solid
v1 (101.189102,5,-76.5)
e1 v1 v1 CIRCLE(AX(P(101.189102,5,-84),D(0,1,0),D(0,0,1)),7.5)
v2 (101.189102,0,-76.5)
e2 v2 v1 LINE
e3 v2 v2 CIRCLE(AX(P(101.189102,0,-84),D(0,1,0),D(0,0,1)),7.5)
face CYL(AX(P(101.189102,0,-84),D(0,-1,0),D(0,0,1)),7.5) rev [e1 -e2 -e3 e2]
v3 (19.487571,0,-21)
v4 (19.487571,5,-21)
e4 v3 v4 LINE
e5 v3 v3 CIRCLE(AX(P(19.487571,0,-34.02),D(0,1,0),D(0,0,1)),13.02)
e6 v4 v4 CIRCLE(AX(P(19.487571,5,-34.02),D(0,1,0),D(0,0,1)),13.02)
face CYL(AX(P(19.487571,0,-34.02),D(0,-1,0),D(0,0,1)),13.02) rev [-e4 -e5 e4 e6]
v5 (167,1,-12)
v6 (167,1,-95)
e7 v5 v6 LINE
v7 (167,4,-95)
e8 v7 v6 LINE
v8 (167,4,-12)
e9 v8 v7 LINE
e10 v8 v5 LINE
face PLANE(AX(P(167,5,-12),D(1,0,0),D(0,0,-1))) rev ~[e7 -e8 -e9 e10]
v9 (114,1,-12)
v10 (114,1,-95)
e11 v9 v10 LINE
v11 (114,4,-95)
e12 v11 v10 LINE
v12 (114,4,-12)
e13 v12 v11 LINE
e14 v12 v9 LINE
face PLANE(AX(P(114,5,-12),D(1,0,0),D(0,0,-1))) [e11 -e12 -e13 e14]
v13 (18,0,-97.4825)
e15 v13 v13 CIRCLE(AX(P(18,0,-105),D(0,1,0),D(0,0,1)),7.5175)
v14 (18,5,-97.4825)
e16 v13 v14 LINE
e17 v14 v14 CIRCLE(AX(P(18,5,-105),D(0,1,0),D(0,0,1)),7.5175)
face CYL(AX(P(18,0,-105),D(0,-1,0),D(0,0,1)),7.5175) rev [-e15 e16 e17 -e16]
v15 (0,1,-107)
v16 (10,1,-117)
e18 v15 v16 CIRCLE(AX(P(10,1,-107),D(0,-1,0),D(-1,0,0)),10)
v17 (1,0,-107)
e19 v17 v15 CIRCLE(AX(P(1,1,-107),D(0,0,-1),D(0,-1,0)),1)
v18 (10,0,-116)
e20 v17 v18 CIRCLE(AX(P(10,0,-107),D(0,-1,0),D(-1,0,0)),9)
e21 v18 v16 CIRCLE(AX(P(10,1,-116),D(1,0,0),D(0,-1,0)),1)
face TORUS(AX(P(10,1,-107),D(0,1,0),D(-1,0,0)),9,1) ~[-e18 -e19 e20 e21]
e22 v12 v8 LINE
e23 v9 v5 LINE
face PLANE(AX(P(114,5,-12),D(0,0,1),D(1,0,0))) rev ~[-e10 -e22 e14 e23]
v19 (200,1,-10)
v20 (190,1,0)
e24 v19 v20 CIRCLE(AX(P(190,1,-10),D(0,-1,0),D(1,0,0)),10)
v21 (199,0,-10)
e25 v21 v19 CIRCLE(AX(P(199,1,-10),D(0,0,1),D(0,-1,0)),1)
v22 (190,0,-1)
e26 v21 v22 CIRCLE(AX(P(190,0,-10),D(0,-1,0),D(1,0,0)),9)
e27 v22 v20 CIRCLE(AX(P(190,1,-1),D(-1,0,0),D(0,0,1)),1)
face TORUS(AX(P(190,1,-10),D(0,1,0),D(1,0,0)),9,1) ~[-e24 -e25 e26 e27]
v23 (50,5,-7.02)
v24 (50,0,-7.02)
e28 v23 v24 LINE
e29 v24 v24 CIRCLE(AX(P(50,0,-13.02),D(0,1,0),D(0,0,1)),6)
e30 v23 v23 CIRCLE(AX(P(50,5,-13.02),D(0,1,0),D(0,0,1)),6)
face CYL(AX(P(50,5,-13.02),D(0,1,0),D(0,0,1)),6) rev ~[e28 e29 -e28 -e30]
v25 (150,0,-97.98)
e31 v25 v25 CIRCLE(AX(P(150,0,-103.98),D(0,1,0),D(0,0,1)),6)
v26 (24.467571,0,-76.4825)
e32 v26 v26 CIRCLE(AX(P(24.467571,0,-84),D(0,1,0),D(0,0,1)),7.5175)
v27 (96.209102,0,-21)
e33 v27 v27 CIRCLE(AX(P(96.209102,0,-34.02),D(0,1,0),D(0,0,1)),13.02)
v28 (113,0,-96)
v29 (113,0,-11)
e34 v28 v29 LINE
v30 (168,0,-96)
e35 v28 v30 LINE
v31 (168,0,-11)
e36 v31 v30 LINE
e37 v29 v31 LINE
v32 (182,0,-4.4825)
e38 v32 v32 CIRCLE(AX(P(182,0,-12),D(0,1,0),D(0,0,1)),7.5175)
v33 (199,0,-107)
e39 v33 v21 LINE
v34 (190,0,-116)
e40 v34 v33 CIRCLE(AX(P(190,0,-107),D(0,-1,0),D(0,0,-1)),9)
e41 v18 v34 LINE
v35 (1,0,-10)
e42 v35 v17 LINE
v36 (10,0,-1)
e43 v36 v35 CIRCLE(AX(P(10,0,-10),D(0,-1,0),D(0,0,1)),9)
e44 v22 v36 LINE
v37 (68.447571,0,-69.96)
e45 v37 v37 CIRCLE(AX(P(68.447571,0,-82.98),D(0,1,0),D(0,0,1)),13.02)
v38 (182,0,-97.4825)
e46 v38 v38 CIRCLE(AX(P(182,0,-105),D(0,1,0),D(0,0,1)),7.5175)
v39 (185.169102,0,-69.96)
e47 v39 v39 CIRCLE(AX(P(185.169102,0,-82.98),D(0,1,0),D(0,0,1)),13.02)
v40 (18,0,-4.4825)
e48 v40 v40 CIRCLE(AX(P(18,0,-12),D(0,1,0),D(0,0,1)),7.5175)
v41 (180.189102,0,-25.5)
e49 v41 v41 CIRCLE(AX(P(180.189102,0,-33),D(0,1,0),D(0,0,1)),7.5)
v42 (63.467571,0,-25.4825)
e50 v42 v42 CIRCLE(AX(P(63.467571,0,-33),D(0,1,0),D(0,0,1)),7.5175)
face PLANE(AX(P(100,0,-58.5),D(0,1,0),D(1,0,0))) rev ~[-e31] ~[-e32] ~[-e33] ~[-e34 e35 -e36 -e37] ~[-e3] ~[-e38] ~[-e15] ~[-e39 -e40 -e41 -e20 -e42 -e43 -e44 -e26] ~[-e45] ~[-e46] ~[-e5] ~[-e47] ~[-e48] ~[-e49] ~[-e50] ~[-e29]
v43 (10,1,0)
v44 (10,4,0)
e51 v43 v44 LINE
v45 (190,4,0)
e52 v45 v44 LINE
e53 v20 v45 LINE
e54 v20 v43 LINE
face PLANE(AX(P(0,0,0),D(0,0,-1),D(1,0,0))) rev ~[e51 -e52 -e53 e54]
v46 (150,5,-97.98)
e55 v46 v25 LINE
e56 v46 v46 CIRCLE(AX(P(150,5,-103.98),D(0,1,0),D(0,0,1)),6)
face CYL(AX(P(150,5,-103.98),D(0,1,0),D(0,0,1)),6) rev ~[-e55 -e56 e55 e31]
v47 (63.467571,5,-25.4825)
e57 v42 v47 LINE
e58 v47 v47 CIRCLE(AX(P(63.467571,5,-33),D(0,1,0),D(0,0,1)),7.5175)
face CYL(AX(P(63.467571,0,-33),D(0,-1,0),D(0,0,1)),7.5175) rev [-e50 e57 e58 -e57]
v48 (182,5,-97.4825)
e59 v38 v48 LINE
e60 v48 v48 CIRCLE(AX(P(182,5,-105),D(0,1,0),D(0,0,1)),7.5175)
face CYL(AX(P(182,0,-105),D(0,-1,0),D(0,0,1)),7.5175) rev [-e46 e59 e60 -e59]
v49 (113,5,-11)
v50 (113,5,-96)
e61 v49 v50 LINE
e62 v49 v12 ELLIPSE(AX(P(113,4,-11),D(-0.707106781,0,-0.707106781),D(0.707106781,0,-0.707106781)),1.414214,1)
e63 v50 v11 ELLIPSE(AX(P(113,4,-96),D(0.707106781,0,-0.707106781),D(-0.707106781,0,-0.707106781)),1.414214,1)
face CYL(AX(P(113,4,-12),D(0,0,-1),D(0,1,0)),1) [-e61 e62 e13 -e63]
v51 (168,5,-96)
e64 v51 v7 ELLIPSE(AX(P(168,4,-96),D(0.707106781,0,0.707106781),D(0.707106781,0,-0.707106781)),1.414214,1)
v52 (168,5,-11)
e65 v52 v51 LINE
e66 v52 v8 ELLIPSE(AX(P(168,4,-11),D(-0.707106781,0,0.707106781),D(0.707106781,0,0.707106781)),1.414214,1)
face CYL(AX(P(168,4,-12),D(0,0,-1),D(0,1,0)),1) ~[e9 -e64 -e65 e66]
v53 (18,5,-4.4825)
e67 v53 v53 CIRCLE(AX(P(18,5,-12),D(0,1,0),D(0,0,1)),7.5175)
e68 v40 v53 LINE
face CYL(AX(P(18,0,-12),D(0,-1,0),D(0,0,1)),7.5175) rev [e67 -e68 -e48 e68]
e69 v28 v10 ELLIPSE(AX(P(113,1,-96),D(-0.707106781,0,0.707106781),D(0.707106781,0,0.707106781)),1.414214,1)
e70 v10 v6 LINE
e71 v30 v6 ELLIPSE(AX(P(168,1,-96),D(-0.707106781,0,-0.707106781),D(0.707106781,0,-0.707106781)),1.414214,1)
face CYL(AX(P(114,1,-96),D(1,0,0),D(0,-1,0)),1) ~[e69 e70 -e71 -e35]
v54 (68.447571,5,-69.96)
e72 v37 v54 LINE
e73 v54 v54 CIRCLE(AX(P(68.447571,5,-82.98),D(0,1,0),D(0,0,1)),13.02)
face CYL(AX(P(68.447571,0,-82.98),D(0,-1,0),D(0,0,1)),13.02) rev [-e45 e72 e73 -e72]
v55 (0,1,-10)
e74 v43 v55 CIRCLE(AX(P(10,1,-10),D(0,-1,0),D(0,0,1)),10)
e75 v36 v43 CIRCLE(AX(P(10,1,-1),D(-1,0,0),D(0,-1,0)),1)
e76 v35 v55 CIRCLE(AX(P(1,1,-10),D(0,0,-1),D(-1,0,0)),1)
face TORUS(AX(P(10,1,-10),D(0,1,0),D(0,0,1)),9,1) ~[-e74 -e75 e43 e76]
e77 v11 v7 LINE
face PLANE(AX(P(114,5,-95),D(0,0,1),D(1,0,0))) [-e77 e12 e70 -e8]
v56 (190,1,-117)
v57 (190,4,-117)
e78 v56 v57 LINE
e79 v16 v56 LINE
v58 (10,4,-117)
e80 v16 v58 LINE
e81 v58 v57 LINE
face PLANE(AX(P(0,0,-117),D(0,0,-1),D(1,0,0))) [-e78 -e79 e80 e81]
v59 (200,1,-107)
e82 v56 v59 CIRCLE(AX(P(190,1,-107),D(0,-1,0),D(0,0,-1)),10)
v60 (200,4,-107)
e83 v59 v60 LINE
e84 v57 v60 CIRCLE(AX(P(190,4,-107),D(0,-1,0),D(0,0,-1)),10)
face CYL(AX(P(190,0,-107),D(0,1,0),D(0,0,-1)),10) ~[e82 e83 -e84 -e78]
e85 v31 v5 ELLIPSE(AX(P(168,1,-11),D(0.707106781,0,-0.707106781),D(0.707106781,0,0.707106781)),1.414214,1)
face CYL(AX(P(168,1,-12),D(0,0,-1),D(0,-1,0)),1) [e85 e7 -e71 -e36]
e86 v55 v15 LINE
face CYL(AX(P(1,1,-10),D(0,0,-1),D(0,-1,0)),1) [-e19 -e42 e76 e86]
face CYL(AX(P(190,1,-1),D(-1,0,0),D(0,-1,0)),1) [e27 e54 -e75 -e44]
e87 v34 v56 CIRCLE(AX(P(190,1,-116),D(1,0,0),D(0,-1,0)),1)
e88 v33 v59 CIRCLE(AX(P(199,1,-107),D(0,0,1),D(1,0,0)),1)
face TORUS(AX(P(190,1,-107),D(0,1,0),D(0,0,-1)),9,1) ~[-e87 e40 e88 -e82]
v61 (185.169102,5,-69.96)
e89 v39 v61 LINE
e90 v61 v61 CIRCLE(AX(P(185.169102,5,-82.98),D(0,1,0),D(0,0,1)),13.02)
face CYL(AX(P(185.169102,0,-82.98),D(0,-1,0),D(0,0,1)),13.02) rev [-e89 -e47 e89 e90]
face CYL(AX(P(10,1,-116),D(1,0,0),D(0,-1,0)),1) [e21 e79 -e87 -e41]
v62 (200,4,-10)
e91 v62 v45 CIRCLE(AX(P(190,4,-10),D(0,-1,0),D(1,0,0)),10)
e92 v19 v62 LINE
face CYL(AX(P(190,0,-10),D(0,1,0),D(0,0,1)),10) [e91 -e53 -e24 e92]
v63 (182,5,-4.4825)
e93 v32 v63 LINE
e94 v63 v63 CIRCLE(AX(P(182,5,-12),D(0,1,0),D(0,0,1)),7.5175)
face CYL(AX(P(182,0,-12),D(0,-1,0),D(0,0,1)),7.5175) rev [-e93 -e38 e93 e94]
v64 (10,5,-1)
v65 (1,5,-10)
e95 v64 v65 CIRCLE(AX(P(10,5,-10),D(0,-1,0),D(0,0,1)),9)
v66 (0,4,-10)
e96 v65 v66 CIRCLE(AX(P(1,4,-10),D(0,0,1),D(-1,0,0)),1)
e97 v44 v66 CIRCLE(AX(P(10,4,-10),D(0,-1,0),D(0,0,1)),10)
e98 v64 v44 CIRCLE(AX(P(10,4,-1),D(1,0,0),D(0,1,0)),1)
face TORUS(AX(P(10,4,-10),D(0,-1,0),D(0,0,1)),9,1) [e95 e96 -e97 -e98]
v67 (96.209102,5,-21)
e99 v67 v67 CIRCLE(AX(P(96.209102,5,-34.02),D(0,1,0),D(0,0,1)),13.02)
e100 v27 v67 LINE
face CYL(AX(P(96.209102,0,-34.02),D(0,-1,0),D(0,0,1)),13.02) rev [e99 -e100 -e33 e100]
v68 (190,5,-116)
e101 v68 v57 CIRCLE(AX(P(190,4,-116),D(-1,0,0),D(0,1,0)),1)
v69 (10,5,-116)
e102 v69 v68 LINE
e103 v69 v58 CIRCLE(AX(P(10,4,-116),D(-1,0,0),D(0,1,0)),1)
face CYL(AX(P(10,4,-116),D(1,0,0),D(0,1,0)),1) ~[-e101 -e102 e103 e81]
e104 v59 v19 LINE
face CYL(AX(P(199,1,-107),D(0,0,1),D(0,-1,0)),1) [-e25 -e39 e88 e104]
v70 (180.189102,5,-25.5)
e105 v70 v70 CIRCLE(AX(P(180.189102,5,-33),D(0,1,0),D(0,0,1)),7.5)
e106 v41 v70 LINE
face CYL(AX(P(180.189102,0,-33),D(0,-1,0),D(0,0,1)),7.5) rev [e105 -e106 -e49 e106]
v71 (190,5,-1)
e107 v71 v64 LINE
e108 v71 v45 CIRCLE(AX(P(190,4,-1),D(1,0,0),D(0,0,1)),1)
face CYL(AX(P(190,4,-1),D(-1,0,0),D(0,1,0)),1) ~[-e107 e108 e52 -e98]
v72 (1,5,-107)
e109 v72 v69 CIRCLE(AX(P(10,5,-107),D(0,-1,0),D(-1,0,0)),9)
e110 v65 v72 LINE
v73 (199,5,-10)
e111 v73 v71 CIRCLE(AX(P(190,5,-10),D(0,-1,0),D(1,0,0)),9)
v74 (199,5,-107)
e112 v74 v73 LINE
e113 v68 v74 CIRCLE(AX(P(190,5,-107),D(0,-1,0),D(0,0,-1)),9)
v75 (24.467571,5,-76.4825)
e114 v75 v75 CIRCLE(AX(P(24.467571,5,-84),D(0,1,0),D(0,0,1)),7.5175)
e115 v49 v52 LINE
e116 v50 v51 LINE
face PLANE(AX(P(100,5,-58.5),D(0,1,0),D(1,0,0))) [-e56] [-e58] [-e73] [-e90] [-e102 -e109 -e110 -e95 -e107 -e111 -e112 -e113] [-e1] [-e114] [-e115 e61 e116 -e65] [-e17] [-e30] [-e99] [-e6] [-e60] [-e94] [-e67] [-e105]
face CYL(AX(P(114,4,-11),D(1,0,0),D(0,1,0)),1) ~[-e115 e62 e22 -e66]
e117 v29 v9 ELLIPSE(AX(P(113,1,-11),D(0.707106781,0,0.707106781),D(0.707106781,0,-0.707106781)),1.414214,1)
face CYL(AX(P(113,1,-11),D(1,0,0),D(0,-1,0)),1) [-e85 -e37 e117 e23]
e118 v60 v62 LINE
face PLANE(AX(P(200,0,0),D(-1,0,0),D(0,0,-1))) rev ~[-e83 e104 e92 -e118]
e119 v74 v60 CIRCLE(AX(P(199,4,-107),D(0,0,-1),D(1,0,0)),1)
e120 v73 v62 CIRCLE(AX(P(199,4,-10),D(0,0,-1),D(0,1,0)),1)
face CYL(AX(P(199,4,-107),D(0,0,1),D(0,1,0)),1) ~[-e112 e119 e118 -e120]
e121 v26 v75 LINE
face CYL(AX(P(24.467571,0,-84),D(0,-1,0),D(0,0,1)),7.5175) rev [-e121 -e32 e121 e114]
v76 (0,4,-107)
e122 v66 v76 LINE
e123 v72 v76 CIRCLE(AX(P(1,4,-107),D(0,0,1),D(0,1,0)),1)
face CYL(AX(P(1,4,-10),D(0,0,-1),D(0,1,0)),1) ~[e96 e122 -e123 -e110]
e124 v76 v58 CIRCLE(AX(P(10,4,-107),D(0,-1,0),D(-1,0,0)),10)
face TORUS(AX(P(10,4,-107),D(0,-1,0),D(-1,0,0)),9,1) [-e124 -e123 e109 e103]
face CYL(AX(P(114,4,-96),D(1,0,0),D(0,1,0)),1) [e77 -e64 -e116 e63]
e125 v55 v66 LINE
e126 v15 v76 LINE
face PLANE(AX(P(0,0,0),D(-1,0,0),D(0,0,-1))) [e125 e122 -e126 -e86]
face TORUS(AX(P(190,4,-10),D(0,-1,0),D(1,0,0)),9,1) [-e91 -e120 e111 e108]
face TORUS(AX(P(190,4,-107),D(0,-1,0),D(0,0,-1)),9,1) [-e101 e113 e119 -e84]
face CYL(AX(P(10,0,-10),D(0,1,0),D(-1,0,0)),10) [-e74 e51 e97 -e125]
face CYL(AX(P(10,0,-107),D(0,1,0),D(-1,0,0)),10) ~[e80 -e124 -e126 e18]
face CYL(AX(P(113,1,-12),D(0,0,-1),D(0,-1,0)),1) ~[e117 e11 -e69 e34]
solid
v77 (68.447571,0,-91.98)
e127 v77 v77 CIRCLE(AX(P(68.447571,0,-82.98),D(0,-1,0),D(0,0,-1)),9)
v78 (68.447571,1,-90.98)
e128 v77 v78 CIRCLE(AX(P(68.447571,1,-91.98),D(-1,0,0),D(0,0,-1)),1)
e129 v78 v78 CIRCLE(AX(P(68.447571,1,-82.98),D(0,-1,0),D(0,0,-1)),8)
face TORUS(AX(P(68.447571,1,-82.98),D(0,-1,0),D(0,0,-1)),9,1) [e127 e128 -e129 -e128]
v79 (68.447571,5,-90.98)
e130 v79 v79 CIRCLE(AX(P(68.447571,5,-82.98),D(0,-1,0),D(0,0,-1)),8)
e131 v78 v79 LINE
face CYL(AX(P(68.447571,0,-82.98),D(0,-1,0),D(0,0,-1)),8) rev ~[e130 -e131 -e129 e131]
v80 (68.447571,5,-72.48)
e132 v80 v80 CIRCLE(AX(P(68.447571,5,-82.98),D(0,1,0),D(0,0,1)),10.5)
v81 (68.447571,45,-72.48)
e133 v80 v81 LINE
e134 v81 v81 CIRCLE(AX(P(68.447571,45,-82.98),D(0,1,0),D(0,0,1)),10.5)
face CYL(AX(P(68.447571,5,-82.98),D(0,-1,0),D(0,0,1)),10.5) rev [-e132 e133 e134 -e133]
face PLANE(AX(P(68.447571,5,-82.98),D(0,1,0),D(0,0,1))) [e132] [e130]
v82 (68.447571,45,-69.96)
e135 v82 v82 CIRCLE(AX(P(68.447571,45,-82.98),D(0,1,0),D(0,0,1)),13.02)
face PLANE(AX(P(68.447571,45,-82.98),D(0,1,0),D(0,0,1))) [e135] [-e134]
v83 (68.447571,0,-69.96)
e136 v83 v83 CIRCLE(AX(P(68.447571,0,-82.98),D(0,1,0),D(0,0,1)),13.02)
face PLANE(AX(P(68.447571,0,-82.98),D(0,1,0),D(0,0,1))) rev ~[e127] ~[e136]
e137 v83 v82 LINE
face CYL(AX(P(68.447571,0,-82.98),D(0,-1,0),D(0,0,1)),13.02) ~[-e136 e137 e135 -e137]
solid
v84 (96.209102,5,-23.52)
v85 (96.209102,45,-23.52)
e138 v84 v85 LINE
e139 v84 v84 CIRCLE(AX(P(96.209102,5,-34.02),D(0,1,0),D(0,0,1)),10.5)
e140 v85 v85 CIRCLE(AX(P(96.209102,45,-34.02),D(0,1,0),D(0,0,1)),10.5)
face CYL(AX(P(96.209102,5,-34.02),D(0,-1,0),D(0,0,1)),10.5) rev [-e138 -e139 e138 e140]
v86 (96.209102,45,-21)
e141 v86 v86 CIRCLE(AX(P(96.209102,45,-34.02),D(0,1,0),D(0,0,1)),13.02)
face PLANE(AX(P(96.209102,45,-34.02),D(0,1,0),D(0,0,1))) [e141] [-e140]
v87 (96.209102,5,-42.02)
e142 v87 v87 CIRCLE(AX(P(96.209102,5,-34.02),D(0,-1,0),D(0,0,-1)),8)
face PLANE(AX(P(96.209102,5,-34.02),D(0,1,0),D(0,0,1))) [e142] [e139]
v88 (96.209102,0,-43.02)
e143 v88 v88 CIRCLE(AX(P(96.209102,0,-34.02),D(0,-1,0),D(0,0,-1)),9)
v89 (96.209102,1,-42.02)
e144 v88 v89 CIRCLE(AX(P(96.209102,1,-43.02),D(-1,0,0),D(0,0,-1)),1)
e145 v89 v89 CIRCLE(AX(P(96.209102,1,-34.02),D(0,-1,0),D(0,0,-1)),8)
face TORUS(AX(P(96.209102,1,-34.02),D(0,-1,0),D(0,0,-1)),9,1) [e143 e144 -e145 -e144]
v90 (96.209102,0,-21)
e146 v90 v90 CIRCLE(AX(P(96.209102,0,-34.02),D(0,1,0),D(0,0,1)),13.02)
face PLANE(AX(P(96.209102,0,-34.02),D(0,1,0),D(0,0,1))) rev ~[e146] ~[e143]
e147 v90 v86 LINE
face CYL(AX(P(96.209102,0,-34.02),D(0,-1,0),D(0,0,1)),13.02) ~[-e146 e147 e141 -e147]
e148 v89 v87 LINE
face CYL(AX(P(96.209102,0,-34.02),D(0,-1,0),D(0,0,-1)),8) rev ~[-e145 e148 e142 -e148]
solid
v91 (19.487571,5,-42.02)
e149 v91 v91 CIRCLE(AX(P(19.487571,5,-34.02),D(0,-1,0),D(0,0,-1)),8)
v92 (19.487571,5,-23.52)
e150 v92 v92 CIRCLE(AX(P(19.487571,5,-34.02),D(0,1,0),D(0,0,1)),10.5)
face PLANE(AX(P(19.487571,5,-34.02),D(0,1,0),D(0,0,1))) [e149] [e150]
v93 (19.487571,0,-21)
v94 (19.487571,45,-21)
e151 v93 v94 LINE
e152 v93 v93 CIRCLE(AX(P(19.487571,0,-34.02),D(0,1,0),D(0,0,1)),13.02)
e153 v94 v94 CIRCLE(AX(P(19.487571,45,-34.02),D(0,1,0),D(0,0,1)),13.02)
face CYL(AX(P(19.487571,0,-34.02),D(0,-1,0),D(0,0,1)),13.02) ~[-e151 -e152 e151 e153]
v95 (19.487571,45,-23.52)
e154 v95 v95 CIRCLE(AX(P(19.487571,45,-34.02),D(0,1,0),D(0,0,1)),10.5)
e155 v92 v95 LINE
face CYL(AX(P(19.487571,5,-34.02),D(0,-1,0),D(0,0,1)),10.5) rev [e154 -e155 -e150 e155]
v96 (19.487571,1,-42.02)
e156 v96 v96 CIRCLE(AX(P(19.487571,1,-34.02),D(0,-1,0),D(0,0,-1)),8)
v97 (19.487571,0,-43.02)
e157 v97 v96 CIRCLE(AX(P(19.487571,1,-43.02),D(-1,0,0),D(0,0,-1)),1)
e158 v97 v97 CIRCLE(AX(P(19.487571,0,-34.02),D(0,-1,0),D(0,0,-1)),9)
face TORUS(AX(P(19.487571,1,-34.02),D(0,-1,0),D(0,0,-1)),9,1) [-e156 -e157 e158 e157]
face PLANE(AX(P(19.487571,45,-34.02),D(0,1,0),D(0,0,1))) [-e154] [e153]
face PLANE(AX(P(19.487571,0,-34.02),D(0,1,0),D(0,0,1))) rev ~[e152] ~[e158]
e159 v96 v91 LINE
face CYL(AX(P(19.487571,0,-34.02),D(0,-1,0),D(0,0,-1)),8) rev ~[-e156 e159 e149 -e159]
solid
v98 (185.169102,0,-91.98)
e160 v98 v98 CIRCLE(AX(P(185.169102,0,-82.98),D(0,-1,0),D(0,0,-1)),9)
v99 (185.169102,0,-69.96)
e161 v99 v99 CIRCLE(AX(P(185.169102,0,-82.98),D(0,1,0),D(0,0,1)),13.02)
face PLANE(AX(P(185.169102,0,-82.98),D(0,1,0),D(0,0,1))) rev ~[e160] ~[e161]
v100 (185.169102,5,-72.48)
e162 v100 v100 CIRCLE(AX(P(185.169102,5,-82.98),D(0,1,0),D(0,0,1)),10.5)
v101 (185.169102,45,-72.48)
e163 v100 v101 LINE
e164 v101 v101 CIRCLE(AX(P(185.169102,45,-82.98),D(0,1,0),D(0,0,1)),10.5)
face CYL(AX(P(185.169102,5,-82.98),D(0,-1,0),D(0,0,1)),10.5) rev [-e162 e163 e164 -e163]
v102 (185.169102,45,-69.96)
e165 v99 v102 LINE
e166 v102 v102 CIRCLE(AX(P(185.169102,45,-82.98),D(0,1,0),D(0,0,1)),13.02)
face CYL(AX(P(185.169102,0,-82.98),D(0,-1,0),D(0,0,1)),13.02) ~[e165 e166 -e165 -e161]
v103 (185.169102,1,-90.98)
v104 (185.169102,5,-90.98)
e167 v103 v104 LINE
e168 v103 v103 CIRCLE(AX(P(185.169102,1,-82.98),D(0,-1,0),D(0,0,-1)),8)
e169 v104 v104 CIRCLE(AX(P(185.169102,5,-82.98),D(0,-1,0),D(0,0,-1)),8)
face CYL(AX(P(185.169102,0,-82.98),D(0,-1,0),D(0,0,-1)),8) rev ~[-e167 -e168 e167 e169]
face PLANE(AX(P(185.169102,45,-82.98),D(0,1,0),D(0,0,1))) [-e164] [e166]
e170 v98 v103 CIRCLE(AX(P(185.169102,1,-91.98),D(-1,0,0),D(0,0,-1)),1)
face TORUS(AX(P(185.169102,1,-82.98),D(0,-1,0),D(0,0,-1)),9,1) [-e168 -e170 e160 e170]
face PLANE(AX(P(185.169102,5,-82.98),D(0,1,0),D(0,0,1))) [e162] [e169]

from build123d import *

# Parameters (mm, degrees)
SKETCH1_R                = 6
BOSS_EXTRUDE1_DEPTH      = 5
BOSS_EXTRUDE1_2_DEPTH    = 5
BOSS_EXTRUDE1_3_DEPTH    = 5
SKETCH1_W                = 200
SKETCH1_H                = 117
SKETCH1_R_2              = 7.5175
SKETCH1_R_3              = 7.5
SKETCH1_R_4              = 13.02
BOSS_EXTRUDE1_4_DEPTH    = 5
BOSS_EXTRUDE2_DEPTH      = 40
BOSS_EXTRUDE2_DEPTH_BACK = 5
SKETCH2_R                = 13.02
SKETCH3_R                = 10.5
CUT_EXTRUDE4_DEPTH       = 40
SKETCH4_R                = 3.75
CUT_EXTRUDE5_DEPTH       = 40
FILLET1_R                = 10
SKETCH5_R                = 6
CUT_EXTRUDE6_DEPTH       = 10
FILLET2_R                = 1
SKETCH6_W                = 53
SKETCH6_H                = 83
CUT_EXTRUDE15_DEPTH      = 10
FILLET3_R                = 1
FILLET4_R                = 1
FILLET5_R                = 1
FILLET6_R                = 1
FILLET7_R                = 1
FILLET8_R                = 1
SKETCH7_R                = 8
CUT_EXTRUDE16_DEPTH      = 10
FILLET9_R                = 1
FILLET10_R               = 1
FILLET11_R               = 1
FILLET12_R               = 1


with BuildPart() as part:
    # Sketch1 → Boss-Extrude1 (new body)
    with BuildSketch(Plane(origin=(0, 0, 0), x_dir=(1, 0, 0), z_dir=(0, 1, 0))):
        with Locations(Location((19.48757137, 34.02, 0), (0, 0, 270))):
            Circle(SKETCH1_R)
    extrude(amount=BOSS_EXTRUDE1_DEPTH)



with BuildPart() as body_2:
    # Sketch1 → Boss-Extrude1 2 (new body)
    with BuildSketch(Plane(origin=(0, 0, 0), x_dir=(1, 0, 0), z_dir=(0, 1, 0))):
        with Locations(Location((68.44757137, 82.98, 0), (0, 0, 270))):
            Circle(SKETCH1_R)
    extrude(amount=BOSS_EXTRUDE1_2_DEPTH)


with BuildPart() as body_3:
    # Sketch1 → Boss-Extrude1 3 (new body)
    with BuildSketch(Plane(origin=(0, 0, 0), x_dir=(1, 0, 0), z_dir=(0, 1, 0))):
        with Locations(Location((96.2091021, 34.02, 0), (0, 0, 270))):
            Circle(SKETCH1_R)
    extrude(amount=BOSS_EXTRUDE1_3_DEPTH)


with BuildPart() as body_4:
    # Sketch1 → Boss-Extrude1 4 (new body)
    with BuildSketch(Plane(origin=(0, 0, 0), x_dir=(1, 0, 0), z_dir=(0, 1, 0))):
        with Locations((100, 58.5)):
            Rectangle(SKETCH1_W, SKETCH1_H)
        with Locations(Location((18, 105, 0), (0, 0, 270))):
            Circle(SKETCH1_R_2, mode=Mode.SUBTRACT)
        with Locations(Location((18, 12, 0), (0, 0, 270))):
            Circle(SKETCH1_R_2, mode=Mode.SUBTRACT)
        with Locations(Location((182, 105, 0), (0, 0, 270))):
            Circle(SKETCH1_R_2, mode=Mode.SUBTRACT)
        with Locations(Location((182, 12, 0), (0, 0, 270))):
            Circle(SKETCH1_R_2, mode=Mode.SUBTRACT)
        with Locations(Location((24.46757137, 84, 0), (0, 0, 270))):
            Circle(SKETCH1_R_2, mode=Mode.SUBTRACT)
        with Locations(Location((63.46757137, 33, 0), (0, 0, 270))):
            Circle(SKETCH1_R_2, mode=Mode.SUBTRACT)
        with Locations(Location((101.1891021, 84, 0), (0, 0, 270))):
            Circle(SKETCH1_R_3, mode=Mode.SUBTRACT)
        with Locations(Location((180.1891021, 33, 0), (0, 0, 270))):
            Circle(SKETCH1_R_3, mode=Mode.SUBTRACT)
        with Locations(Location((96.2091021, 34.02, 0), (0, 0, 270))):
            Circle(SKETCH1_R_4, mode=Mode.SUBTRACT)
        with Locations(Location((185.1691021, 82.98, 0), (0, 0, 270))):
            Circle(SKETCH1_R_4, mode=Mode.SUBTRACT)
        with Locations(Location((68.44757137, 82.98, 0), (0, 0, 270))):
            Circle(SKETCH1_R_4, mode=Mode.SUBTRACT)
        with Locations(Location((19.48757137, 34.02, 0), (0, 0, 270))):
            Circle(SKETCH1_R_4, mode=Mode.SUBTRACT)
    extrude(amount=BOSS_EXTRUDE1_4_DEPTH)

    # Fillet1
    fillet1_edges = [body_4.edges().sort_by_distance(p)[0] for p in [
        (0, 2.5, -117),
        (0, 2.5, 0),
        (200, 2.5, 0),
        (200, 2.5, -117),
    ]]
    fillet(fillet1_edges, radius=FILLET1_R)

    # Sketch5 → Cut-Extrude6 (cut)
    with BuildSketch(Plane(origin=(0, 5, 0), x_dir=(1, 0, 0), z_dir=(0, 1, 0))):
        with Locations(Location((50, 13.02, 0), (0, 0, 270))):
            Circle(SKETCH5_R)
        with Locations(Location((150, 103.98, 0), (0, 0, 270))):
            Circle(SKETCH5_R)
    extrude(amount=-CUT_EXTRUDE6_DEPTH, mode=Mode.SUBTRACT)

    # Fillet2
    fillet2_edges = [body_4.edges().sort_by_distance(p)[0] for p in [
        (100, 0, -117),
        (100, 5, -117),
        (200, 0, -58.5),
        (100, 0, 0),
        (0, 0, -58.5),
        (197.071067812, 0, -2.928932188),
        (2.928932188, 0, -2.928932188),
        (2.928932188, 0, -114.071067812),
        (197.071067812, 0, -114.071067812),
        (200, 5, -58.5),
        (0, 5, -58.5),
        (100, 5, 0),
        (197.071067812, 5, -2.928932188),
        (2.928932188, 5, -2.928932188),
        (2.928932188, 5, -114.071067812),
        (197.071067812, 5, -114.071067812),
    ]]
    fillet(fillet2_edges, radius=FILLET2_R)

    # Sketch6 → Cut-Extrude15 (cut)
    with BuildSketch(Plane(origin=(0, 5, 0), x_dir=(1, 0, 0), z_dir=(0, 1, 0))):
        with Locations((140.5, 53.5)):
            Rectangle(SKETCH6_W, SKETCH6_H)
    extrude(amount=-CUT_EXTRUDE15_DEPTH, mode=Mode.SUBTRACT)

    # Fillet3
    fillet3_edges = [body_4.edges().sort_by_distance(p)[0] for p in [
        (167, 0, -53.5),
        (140.5, 0, -95),
        (114, 0, -53.5),
        (114, 5, -53.5),
        (140.5, 5, -12),
        (167, 5, -53.5),
        (140.5, 5, -95),
    ]]
    fillet(fillet3_edges, radius=FILLET3_R)

    # Fillet4
    fillet4_edges = [body_4.edges().sort_by_distance(p)[0] for p in [
        (140.5, 0, -12),
    ]]
    fillet(fillet4_edges, radius=FILLET4_R)


with BuildPart() as part_1:
    add(part.part)

    add(body_2.part)  # Boss-Extrude2 merges body 2

    add(body_3.part)  # Boss-Extrude2 merges body 3
    # Sketch2 → Boss-Extrude2 (add, two sides: drawn at the far end of the back side and taken through both)
    with BuildSketch(Plane(origin=(0, 5, 0), x_dir=(1, 0, 0), z_dir=(0, 1, 0)).offset(-BOSS_EXTRUDE2_DEPTH_BACK)):
        with Locations(Location((185.1691021, 82.98, 0), (0, 0, 270))):
            Circle(SKETCH2_R)
        with Locations(Location((96.2091021, 34.02, 0), (0, 0, 270))):
            Circle(SKETCH2_R)
        with Locations(Location((68.44757137, 82.98, 0), (0, 0, 270))):
            Circle(SKETCH2_R)
        with Locations(Location((19.48757137, 34.02, 0), (0, 0, 270))):
            Circle(SKETCH2_R)
    extrude(amount=BOSS_EXTRUDE2_DEPTH + BOSS_EXTRUDE2_DEPTH_BACK)

    # Sketch3 → Cut-Extrude4 (cut)
    with BuildSketch(Plane(origin=(0, 5, 0), x_dir=(1, 0, 0), z_dir=(0, 1, 0))):
        with Locations(Location((19.48757137, 34.02, 0), (0, 0, 270))):
            Circle(SKETCH3_R)
        with Locations(Location((96.2091021, 34.02, 0), (0, 0, 270))):
            Circle(SKETCH3_R)
        with Locations(Location((185.1691021, 82.98, 0), (0, 0, 270))):
            Circle(SKETCH3_R)
        with Locations(Location((68.44757137, 82.98, 0), (0, 0, 270))):
            Circle(SKETCH3_R)
    extrude(amount=CUT_EXTRUDE4_DEPTH, mode=Mode.SUBTRACT)

    # Sketch4 → Cut-Extrude5 (cut)
    with BuildSketch(Plane.XZ):
        with Locations(Location((19.48757137, -34.02, 0), (0, 0, 270))):
            Circle(SKETCH4_R)
        with Locations(Location((68.44757137, -82.98, 0), (0, 0, 270))):
            Circle(SKETCH4_R)
        with Locations(Location((96.2091021, -34.02, 0), (0, 0, 270))):
            Circle(SKETCH4_R)
        with Locations(Location((185.1691021, -82.98, 0), (0, 0, 270))):
            Circle(SKETCH4_R)
    extrude(amount=-CUT_EXTRUDE5_DEPTH, mode=Mode.SUBTRACT)

    # Fillet5
    fillet5_edges = [part_1.edges().sort_by_distance(p)[0] for p in [
        (68.44757137, 5, -79.23),
    ]]
    fillet(fillet5_edges, radius=FILLET5_R)

    # Fillet6
    fillet6_edges = [part_1.edges().sort_by_distance(p)[0] for p in [
        (19.48757137, 5, -30.27),
    ]]
    fillet(fillet6_edges, radius=FILLET6_R)

    # Fillet7
    fillet7_edges = [part_1.edges().sort_by_distance(p)[0] for p in [
        (96.2091021, 5, -30.27),
    ]]
    fillet(fillet7_edges, radius=FILLET7_R)

    # Fillet8
    fillet8_edges = [part_1.edges().sort_by_distance(p)[0] for p in [
        (185.1691021, 5, -79.23),
    ]]
    fillet(fillet8_edges, radius=FILLET8_R)

    # Sketch7 → Cut-Extrude16 (cut)
    with BuildSketch(Plane.XZ):
        with Locations(Location((19.48757137, -34.02, 0), (0, 0, 270))):
            Circle(SKETCH7_R)
        with Locations(Location((96.2091021, -34.02, 0), (0, 0, 270))):
            Circle(SKETCH7_R)
        with Locations(Location((68.44757137, -82.98, 0), (0, 0, 270))):
            Circle(SKETCH7_R)
        with Locations(Location((185.1691021, -82.98, 0), (0, 0, 270))):
            Circle(SKETCH7_R)
    extrude(amount=-CUT_EXTRUDE16_DEPTH, mode=Mode.SUBTRACT)

    # Fillet9
    fillet9_edges = [part_1.edges().sort_by_distance(p)[0] for p in [
        (185.1691021, 0, -74.98),
    ]]
    fillet(fillet9_edges, radius=FILLET9_R)

    # Fillet10
    fillet10_edges = [part_1.edges().sort_by_distance(p)[0] for p in [
        (19.48757137, 0, -26.02),
    ]]
    fillet(fillet10_edges, radius=FILLET10_R)

    # Fillet11
    fillet11_edges = [part_1.edges().sort_by_distance(p)[0] for p in [
        (96.2091021, 0, -26.02),
    ]]
    fillet(fillet11_edges, radius=FILLET11_R)

    # Fillet12
    fillet12_edges = [part_1.edges().sort_by_distance(p)[0] for p in [
        (68.44757137, 0, -74.98),
    ]]
    fillet(fillet12_edges, radius=FILLET12_R)


solid = Compound([body_4.part, part_1.part])
